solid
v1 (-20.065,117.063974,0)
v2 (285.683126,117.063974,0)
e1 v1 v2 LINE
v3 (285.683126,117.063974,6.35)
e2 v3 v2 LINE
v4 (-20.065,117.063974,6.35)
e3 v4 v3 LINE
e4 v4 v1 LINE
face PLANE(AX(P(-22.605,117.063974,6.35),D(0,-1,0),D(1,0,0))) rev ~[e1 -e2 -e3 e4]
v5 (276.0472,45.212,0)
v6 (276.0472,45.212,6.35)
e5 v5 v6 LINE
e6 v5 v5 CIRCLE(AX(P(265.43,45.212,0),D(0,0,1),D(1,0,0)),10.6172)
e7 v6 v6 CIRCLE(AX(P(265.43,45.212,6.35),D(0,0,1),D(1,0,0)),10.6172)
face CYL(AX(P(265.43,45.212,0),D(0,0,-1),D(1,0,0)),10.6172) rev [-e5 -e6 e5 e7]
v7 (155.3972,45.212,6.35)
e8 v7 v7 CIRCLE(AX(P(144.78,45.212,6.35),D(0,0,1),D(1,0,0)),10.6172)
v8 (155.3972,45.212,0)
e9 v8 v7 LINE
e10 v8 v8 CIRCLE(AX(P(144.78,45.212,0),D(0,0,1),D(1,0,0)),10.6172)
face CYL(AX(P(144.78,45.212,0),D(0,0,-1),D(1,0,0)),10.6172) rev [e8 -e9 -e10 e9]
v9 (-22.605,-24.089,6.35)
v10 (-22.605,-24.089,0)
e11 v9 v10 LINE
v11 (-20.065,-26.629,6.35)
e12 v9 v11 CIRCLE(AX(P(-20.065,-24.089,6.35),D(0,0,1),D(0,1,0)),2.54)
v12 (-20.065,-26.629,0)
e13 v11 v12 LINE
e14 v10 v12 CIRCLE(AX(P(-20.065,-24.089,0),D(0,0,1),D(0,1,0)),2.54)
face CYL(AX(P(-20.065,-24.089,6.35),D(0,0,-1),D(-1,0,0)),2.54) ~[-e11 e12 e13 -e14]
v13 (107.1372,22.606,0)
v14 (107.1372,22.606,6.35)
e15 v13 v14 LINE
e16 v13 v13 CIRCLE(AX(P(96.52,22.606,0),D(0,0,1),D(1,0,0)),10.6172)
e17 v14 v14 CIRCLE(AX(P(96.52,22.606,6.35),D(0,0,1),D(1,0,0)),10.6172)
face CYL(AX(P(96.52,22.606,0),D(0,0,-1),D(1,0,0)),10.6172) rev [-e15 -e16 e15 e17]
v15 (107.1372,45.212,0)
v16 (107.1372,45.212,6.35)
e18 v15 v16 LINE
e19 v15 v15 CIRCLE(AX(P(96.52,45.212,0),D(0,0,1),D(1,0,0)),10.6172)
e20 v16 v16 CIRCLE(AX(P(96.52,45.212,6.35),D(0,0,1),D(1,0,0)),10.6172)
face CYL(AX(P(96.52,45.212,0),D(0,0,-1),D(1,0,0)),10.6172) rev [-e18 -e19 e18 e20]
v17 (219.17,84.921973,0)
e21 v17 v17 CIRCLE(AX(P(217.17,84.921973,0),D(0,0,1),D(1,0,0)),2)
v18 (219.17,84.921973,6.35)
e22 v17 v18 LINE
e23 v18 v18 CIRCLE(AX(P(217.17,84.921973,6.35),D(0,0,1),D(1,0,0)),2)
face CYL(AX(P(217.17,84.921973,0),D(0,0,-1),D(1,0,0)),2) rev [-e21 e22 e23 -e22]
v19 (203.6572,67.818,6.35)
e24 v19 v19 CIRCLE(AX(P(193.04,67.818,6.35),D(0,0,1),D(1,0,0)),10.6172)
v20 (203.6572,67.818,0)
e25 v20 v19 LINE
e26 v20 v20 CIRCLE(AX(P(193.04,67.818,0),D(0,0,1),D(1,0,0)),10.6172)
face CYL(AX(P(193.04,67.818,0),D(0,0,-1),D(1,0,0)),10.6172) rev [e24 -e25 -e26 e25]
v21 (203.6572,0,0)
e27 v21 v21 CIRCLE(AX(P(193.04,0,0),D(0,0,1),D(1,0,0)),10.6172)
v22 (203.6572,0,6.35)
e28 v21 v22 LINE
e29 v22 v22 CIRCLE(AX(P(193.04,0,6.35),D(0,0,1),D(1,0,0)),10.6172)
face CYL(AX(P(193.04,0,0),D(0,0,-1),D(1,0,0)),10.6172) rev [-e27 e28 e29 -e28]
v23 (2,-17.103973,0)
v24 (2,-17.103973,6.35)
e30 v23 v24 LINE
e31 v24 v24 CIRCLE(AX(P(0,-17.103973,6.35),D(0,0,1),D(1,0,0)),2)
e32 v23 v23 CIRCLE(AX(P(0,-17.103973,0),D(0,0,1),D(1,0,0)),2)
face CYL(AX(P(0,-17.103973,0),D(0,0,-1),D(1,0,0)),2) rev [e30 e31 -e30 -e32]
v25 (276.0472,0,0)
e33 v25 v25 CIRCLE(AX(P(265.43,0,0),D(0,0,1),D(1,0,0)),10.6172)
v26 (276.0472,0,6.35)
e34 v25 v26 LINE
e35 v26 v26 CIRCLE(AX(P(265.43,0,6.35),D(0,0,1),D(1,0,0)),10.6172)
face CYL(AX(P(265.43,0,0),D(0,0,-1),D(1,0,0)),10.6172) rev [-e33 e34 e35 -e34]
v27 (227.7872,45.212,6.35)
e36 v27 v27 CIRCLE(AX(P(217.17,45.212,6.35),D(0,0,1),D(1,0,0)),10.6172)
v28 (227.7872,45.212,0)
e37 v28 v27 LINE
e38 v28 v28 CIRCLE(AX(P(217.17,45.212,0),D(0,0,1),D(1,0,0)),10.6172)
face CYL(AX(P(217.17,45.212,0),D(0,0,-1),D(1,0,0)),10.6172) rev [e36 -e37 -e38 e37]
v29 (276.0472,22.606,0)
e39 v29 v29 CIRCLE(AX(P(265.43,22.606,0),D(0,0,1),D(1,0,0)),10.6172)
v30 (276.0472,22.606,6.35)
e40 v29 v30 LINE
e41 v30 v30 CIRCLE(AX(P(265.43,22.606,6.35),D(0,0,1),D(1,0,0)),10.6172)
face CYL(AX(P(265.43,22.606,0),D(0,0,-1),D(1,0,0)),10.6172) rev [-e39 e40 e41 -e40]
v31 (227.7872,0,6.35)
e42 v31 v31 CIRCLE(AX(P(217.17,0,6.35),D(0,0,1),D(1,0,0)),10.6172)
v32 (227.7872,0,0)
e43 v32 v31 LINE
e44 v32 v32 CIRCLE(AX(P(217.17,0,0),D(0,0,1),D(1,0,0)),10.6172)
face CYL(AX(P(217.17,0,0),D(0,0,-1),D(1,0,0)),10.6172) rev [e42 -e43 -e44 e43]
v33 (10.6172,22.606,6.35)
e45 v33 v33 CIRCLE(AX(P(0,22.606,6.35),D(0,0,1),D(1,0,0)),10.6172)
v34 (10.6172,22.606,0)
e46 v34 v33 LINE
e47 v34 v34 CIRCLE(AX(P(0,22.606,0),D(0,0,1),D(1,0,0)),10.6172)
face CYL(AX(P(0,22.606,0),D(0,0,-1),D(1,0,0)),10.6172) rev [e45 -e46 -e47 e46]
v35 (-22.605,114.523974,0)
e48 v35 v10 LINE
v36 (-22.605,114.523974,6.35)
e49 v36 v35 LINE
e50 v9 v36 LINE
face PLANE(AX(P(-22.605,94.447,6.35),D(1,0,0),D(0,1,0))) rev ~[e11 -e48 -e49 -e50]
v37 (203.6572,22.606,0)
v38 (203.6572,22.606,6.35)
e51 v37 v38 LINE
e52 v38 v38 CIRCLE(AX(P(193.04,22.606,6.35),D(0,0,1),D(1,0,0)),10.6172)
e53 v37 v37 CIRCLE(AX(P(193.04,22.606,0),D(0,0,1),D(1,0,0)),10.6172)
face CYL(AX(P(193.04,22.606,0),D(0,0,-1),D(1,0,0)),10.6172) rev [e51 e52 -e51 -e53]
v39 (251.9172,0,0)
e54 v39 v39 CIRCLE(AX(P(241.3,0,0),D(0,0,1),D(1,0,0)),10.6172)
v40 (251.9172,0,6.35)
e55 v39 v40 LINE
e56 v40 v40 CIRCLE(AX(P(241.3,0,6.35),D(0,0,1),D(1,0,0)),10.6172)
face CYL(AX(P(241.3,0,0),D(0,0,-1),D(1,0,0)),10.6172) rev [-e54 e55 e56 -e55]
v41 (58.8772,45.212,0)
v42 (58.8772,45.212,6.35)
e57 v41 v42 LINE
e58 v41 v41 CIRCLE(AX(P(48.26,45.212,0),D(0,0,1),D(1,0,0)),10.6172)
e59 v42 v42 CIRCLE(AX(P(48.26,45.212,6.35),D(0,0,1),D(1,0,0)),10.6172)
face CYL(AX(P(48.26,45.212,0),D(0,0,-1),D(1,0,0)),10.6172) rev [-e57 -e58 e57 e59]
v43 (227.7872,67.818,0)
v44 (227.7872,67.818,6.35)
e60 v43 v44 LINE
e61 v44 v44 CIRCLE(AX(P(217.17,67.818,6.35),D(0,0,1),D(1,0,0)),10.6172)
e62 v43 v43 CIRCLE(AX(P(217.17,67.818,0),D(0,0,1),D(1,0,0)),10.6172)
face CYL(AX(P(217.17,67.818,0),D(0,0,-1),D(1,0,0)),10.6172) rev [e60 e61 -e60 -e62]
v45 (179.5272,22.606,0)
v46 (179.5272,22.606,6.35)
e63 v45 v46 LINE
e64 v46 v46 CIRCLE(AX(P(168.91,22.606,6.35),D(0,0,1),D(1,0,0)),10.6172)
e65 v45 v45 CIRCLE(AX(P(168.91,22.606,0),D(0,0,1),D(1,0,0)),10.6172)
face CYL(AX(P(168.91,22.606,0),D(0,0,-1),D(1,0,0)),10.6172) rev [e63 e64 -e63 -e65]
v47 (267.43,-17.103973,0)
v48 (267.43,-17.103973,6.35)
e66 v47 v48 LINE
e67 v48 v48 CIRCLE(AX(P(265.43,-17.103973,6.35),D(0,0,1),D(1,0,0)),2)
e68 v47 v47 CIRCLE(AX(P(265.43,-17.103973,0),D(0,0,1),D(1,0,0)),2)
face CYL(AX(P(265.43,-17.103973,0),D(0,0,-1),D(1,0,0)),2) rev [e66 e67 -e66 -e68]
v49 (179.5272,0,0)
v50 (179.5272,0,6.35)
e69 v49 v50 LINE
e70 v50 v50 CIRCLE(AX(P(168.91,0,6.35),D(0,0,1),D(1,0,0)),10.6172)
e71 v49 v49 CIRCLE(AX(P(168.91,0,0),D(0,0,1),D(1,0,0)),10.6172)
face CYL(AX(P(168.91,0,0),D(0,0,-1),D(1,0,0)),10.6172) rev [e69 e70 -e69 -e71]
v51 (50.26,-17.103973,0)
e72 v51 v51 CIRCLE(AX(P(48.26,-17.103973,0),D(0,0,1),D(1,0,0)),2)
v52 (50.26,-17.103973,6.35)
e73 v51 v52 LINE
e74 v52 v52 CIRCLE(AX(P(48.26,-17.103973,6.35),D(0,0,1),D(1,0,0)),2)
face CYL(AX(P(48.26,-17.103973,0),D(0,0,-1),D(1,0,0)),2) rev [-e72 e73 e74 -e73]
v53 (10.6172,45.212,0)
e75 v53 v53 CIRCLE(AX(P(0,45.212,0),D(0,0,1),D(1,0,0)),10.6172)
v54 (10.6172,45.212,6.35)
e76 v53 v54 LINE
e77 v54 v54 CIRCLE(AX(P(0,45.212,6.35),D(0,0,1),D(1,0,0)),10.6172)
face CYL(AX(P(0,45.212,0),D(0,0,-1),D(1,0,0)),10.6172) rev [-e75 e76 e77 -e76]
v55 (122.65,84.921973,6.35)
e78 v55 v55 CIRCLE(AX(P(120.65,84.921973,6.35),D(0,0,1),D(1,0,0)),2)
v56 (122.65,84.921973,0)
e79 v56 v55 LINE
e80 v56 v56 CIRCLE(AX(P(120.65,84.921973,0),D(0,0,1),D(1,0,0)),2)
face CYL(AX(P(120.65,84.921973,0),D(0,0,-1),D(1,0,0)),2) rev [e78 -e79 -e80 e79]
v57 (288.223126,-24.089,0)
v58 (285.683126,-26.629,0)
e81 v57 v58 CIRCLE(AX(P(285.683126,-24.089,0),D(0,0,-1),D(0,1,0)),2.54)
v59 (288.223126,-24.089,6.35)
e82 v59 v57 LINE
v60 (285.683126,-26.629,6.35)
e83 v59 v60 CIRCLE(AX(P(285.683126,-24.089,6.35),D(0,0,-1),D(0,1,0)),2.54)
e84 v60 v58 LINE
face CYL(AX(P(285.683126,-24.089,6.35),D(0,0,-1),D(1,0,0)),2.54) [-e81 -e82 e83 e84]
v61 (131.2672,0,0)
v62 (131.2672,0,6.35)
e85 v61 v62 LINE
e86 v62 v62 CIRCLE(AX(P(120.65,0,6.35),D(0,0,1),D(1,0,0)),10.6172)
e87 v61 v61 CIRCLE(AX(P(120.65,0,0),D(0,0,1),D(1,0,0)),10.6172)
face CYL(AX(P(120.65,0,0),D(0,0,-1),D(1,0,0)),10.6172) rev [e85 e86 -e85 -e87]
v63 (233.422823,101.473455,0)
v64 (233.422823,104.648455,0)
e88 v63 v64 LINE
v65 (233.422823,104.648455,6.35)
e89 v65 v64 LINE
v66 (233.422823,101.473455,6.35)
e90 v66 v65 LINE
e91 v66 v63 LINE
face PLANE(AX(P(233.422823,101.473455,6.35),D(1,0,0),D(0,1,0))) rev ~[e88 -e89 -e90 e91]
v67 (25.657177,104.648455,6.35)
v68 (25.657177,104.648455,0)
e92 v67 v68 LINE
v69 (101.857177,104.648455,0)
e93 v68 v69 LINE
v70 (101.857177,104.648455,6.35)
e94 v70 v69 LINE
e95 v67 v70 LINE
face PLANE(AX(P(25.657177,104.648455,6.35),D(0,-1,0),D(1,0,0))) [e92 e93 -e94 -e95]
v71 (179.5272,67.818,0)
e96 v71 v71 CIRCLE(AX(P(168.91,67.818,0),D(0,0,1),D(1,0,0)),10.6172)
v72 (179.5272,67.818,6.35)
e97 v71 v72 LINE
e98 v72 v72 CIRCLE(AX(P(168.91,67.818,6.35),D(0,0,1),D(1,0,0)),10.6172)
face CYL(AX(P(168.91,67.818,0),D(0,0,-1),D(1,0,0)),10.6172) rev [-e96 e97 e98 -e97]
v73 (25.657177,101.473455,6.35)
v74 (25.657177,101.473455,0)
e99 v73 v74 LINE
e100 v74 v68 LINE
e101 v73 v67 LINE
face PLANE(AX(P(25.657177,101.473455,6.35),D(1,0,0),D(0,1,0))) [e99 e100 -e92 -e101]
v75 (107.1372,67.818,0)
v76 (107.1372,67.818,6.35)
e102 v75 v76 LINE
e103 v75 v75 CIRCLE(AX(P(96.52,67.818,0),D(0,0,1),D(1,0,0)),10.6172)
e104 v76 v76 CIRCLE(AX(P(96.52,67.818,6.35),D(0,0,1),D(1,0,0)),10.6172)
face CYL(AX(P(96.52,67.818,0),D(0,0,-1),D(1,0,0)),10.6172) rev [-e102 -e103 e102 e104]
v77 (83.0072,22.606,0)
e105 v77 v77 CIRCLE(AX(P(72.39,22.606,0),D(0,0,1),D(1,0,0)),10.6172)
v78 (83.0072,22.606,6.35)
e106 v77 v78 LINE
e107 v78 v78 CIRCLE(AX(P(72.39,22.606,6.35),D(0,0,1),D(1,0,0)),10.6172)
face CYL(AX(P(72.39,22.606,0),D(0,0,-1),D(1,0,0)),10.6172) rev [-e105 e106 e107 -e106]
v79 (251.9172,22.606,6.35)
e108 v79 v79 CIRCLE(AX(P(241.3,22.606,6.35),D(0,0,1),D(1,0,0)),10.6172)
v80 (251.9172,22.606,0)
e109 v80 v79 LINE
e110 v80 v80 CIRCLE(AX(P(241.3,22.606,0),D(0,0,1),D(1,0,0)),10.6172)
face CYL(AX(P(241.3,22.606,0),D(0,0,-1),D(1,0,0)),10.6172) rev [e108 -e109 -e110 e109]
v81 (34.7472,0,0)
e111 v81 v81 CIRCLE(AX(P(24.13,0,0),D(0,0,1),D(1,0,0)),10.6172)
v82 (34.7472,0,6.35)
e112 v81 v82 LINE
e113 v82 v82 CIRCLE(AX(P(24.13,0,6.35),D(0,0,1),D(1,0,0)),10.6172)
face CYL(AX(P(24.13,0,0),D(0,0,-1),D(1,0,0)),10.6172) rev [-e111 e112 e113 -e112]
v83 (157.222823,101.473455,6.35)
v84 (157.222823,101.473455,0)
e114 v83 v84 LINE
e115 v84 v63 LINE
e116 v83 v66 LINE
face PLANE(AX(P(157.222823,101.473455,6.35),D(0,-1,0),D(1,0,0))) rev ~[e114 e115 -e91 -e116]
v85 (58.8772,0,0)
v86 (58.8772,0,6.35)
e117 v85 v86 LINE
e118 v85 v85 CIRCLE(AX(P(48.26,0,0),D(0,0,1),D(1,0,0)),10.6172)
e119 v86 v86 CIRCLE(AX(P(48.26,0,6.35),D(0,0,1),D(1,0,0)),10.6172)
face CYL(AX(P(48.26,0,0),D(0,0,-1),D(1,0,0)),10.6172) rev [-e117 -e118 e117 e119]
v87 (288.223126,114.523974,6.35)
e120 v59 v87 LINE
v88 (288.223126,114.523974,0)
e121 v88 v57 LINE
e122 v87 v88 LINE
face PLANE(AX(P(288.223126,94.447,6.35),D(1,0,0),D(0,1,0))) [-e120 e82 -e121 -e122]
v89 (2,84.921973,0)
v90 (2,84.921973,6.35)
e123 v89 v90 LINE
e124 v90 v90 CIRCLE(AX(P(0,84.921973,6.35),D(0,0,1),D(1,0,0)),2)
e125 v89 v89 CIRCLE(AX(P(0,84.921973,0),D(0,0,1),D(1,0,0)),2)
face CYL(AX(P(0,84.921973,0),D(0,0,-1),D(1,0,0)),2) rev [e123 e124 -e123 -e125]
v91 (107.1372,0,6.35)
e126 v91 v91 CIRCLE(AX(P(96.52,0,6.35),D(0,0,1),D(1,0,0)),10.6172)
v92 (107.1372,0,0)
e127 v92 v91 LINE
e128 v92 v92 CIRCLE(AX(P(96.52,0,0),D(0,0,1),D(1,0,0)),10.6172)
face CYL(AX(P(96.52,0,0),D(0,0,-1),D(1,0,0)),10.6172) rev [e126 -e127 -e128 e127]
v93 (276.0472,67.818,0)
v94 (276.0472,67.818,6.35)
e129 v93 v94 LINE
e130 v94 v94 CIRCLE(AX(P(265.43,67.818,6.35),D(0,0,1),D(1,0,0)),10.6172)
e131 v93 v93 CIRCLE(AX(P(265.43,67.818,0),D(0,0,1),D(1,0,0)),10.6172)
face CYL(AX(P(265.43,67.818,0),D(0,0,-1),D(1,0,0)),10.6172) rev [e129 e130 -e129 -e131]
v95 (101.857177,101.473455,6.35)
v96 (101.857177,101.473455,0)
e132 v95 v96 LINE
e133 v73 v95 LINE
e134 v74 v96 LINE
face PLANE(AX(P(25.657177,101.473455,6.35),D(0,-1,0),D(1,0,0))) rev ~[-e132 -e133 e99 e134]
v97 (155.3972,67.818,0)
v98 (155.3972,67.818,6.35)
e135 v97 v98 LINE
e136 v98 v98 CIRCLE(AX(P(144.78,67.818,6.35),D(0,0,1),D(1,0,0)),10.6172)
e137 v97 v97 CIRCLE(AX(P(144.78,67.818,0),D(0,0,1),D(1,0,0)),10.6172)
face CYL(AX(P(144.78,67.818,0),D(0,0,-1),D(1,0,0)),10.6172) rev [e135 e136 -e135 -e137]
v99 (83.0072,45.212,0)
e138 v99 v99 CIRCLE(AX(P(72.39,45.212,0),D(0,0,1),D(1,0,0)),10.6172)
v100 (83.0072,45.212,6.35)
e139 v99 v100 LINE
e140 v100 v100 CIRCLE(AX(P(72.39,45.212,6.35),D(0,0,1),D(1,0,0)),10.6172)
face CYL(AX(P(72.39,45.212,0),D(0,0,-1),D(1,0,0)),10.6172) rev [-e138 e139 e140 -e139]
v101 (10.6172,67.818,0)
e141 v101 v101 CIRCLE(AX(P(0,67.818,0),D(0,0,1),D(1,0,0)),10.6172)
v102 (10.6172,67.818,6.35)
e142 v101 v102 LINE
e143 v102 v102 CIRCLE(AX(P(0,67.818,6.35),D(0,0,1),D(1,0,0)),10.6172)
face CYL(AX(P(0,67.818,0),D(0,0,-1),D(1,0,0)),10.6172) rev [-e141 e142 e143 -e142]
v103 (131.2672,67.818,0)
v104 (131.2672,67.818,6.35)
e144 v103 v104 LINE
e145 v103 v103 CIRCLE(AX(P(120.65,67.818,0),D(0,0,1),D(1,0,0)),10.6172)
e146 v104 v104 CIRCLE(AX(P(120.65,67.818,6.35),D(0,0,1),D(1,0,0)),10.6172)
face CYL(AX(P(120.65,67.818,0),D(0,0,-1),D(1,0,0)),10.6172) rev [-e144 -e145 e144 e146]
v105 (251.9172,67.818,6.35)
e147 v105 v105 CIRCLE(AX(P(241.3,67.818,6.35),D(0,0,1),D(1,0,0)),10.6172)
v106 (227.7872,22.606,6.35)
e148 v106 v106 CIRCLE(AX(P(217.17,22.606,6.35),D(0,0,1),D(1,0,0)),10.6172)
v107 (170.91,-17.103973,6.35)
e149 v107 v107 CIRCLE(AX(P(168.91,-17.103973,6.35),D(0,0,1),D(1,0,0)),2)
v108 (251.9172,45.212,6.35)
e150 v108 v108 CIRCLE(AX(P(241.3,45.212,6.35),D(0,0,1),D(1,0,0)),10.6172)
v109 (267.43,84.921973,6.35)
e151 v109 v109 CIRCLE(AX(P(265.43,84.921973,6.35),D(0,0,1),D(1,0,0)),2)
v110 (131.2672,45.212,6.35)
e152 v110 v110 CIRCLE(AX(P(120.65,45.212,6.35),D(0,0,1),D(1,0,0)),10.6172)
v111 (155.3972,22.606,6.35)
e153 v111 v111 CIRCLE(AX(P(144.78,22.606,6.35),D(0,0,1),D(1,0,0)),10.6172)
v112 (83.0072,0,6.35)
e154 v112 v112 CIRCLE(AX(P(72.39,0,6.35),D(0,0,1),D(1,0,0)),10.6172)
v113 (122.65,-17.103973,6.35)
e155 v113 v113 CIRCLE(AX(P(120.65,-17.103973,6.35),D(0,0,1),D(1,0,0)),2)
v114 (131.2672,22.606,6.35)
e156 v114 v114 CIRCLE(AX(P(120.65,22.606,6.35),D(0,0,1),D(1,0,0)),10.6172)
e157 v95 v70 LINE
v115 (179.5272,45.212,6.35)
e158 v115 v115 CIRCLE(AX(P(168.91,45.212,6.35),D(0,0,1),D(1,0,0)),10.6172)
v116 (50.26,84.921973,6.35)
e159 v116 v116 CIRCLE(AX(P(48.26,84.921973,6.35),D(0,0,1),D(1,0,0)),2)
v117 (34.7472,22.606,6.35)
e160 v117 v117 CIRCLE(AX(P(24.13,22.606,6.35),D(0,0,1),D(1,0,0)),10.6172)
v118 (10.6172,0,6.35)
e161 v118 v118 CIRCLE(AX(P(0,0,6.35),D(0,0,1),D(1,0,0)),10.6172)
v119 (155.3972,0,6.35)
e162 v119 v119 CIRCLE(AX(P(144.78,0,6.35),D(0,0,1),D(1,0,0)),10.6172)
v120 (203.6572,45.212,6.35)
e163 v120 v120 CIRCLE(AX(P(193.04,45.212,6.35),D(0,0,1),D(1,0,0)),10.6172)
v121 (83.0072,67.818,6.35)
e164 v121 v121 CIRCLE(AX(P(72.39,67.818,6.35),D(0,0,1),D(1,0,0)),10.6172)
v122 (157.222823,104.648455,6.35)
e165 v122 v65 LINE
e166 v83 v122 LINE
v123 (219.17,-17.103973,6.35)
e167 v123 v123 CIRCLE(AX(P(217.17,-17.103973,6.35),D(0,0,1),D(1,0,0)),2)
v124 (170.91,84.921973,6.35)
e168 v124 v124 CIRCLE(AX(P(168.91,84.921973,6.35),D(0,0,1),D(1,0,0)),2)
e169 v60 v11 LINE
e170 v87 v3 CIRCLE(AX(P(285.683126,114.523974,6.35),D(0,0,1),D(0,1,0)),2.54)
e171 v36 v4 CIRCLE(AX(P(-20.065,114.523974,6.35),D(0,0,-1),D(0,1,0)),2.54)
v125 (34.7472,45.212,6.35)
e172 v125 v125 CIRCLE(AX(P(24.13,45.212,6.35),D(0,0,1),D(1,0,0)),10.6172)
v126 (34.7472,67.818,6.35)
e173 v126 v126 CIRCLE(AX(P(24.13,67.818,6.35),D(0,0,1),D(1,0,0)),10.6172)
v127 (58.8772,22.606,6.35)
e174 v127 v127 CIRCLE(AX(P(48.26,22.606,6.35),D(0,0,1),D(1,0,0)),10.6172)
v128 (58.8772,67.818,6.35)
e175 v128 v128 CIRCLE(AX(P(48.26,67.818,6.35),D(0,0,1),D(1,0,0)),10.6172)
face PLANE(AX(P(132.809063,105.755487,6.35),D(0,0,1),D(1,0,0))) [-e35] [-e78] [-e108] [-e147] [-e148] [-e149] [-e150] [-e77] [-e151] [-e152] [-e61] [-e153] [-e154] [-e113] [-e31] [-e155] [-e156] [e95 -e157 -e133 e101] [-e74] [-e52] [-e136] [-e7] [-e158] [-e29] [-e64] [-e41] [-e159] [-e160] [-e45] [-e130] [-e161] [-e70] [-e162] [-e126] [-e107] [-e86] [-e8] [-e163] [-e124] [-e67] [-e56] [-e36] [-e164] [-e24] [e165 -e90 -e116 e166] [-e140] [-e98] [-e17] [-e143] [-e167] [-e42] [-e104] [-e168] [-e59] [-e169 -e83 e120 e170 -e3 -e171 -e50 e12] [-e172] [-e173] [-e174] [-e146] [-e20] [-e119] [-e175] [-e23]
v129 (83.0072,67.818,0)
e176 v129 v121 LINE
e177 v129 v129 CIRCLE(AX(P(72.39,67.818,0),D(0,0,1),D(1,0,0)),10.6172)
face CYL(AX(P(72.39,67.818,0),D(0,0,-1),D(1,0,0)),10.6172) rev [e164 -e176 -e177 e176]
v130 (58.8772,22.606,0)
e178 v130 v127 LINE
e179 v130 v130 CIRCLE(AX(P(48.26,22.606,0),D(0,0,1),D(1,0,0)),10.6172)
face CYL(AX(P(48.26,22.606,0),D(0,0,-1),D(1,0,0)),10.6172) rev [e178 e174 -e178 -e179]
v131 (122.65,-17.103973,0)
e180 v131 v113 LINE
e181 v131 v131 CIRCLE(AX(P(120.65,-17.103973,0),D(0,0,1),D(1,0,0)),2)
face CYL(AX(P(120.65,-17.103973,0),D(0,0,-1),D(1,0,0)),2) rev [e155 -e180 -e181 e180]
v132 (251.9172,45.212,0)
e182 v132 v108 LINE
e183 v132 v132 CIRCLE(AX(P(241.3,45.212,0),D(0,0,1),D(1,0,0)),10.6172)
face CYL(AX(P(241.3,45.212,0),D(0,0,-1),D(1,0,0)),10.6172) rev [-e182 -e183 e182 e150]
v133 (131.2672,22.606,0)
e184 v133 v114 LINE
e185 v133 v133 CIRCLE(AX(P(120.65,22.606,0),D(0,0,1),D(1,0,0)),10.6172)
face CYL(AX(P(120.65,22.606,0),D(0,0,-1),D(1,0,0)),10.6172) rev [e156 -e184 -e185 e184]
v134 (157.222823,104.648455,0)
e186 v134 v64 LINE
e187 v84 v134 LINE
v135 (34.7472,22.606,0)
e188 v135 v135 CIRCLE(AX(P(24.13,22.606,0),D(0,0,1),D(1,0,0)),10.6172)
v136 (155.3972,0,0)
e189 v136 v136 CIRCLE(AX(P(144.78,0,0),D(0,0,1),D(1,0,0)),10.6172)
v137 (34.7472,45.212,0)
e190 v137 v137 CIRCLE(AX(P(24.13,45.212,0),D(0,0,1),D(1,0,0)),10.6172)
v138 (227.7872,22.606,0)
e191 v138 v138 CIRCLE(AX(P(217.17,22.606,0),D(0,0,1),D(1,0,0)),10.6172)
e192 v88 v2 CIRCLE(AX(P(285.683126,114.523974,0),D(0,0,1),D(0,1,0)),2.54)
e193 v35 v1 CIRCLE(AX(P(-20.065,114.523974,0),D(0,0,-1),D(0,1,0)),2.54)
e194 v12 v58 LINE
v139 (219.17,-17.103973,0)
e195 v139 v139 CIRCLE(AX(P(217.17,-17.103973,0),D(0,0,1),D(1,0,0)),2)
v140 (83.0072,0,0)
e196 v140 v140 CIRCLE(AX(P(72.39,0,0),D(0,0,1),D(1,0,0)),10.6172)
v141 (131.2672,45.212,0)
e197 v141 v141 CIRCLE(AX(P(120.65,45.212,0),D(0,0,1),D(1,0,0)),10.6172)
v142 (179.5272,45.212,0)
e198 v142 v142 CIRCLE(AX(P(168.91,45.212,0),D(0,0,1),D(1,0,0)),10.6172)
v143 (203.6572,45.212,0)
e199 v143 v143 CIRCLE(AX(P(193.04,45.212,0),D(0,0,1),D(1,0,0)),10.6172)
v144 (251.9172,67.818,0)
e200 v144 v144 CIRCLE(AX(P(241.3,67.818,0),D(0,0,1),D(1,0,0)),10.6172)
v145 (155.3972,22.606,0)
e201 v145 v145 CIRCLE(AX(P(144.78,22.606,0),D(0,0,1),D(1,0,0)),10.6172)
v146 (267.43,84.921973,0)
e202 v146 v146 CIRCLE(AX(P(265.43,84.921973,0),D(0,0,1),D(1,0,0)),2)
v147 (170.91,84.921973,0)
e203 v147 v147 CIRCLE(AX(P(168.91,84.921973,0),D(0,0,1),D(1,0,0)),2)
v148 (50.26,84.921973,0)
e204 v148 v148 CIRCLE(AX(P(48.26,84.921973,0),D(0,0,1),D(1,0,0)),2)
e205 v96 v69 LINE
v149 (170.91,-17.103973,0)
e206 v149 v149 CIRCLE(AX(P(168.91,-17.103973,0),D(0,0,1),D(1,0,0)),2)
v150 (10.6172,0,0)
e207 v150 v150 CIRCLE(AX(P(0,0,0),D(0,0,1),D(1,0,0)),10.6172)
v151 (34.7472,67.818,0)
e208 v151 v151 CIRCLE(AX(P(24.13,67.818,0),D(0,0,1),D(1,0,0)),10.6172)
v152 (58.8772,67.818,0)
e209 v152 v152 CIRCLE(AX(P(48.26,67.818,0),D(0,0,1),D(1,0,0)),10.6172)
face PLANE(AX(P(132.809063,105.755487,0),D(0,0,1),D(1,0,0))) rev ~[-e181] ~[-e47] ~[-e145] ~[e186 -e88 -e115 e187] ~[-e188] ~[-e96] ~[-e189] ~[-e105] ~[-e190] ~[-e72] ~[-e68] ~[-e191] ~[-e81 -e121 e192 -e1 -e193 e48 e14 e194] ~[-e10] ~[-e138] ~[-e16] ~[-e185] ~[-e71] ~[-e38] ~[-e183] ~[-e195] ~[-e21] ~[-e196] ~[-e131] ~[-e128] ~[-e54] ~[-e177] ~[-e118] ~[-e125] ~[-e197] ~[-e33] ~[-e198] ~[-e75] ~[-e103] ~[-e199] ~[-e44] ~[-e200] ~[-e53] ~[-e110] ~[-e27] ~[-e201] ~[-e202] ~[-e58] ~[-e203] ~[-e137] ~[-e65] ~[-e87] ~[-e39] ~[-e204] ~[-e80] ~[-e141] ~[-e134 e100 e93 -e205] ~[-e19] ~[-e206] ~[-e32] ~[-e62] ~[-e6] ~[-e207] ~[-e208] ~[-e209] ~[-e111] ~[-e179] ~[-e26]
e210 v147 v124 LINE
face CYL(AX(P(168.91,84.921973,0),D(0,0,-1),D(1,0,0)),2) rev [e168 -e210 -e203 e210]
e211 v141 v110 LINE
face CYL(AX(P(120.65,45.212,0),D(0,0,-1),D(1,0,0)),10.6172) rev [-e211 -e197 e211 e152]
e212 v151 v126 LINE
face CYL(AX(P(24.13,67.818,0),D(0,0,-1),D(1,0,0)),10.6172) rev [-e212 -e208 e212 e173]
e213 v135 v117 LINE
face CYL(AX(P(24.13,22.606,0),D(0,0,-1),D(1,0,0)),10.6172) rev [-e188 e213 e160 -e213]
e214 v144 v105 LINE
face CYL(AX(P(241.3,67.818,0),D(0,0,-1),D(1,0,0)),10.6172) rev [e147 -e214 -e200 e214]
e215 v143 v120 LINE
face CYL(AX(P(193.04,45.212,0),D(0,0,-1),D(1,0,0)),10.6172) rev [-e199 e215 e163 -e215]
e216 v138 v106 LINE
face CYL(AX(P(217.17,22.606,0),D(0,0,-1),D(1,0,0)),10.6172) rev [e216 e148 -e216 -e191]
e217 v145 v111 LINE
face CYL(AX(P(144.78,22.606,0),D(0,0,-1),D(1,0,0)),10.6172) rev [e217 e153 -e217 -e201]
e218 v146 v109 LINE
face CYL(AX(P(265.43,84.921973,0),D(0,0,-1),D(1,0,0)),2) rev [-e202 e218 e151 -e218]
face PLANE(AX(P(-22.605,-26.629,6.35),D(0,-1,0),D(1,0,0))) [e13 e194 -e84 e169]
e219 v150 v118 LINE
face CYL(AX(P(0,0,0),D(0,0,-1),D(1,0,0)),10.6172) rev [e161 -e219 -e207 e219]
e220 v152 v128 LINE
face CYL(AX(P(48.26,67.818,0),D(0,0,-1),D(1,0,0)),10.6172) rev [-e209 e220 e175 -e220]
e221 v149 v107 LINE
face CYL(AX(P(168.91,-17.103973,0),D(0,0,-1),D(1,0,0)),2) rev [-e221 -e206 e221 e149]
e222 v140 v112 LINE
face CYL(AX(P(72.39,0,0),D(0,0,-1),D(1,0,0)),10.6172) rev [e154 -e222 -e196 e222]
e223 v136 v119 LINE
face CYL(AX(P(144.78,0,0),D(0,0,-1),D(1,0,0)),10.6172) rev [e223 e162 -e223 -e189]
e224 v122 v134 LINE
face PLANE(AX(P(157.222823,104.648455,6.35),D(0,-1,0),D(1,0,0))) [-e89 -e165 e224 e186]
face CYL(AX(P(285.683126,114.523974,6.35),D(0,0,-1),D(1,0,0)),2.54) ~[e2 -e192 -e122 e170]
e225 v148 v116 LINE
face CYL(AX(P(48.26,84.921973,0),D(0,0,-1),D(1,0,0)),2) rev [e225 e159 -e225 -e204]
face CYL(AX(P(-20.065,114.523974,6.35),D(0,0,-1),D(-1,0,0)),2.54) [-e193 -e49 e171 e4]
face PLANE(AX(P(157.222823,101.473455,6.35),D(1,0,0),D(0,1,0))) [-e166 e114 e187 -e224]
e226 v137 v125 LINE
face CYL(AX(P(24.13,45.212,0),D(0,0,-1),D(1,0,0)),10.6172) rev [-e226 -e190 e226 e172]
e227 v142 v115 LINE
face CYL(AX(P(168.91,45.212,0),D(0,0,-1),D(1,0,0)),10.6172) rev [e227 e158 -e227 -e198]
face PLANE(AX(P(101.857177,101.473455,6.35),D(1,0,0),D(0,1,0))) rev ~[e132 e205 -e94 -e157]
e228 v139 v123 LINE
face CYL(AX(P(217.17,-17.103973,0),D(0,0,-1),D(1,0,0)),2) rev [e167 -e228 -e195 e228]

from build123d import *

# Parameters (mm, degrees)
SKETCH2_R               = 10.6172
SKETCH2_R_2             = 2
BOSS_EXTRUDE1_DEPTH     = 6.35
SKETCH5_W               = 3.175
SKETCH5_H               = 121.076
BOSS_EXTRUDE2_DEPTH     = 6.35
SKETCH8_W               = 310.828126018
SKETCH8_H               = 22.616973562
BOSS_EXTRUDE4_DEPTH     = 6.35
FILLET2_R               = 2.54
SKETCH11_W              = 76.2
SKETCH11_H              = 3.175
CUT_EXTRUDE3_DEPTH      = 1
CUT_EXTRUDE3_DEPTH_BACK = 7.35


with BuildPart() as part:
    # Sketch2 → Boss-Extrude1 (new body)
    with BuildSketch(Plane.XY):
        Polygon((-19.430000002, 91.526), (-19.430000002, -23.708), (-19.430000002, -26.629), (285.048126016, -26.629), (285.048126016, -23.708), (285.048126016, 91.526), (285.048126016, 94.447), (-19.430000002, 94.447), align=None)
        Circle(SKETCH2_R, mode=Mode.SUBTRACT)
        with Locations((24.13, 0)):
            Circle(SKETCH2_R, mode=Mode.SUBTRACT)
        with Locations((48.26, 0)):
            Circle(SKETCH2_R, mode=Mode.SUBTRACT)
        with Locations((72.39, 0)):
            Circle(SKETCH2_R, mode=Mode.SUBTRACT)
        with Locations((24.13, 22.606)):
            Circle(SKETCH2_R, mode=Mode.SUBTRACT)
        with Locations((48.26, 22.606)):
            Circle(SKETCH2_R, mode=Mode.SUBTRACT)
        with Locations((72.39, 22.606)):
            Circle(SKETCH2_R, mode=Mode.SUBTRACT)
        with Locations((24.13, 45.212)):
            Circle(SKETCH2_R, mode=Mode.SUBTRACT)
        with Locations((48.26, 45.212)):
            Circle(SKETCH2_R, mode=Mode.SUBTRACT)
        with Locations((72.39, 45.212)):
            Circle(SKETCH2_R, mode=Mode.SUBTRACT)
        with Locations((24.13, 67.818)):
            Circle(SKETCH2_R, mode=Mode.SUBTRACT)
        with Locations((48.26, 67.818)):
            Circle(SKETCH2_R, mode=Mode.SUBTRACT)
        with Locations((72.39, 67.818)):
            Circle(SKETCH2_R, mode=Mode.SUBTRACT)
        with Locations((0, 22.606)):
            Circle(SKETCH2_R, mode=Mode.SUBTRACT)
        with Locations((0, 45.212)):
            Circle(SKETCH2_R, mode=Mode.SUBTRACT)
        with Locations((0, 67.818)):
            Circle(SKETCH2_R, mode=Mode.SUBTRACT)
        with Locations((96.52, 0)):
            Circle(SKETCH2_R, mode=Mode.SUBTRACT)
        with Locations((120.65, 0)):
            Circle(SKETCH2_R, mode=Mode.SUBTRACT)
        with Locations((144.78, 0)):
            Circle(SKETCH2_R, mode=Mode.SUBTRACT)
        with Locations((168.91, 0)):
            Circle(SKETCH2_R, mode=Mode.SUBTRACT)
        with Locations((193.04, 0)):
            Circle(SKETCH2_R, mode=Mode.SUBTRACT)
        with Locations((217.17, 0)):
            Circle(SKETCH2_R, mode=Mode.SUBTRACT)
        with Locations((241.3, 0)):
            Circle(SKETCH2_R, mode=Mode.SUBTRACT)
        with Locations((265.43, 0)):
            Circle(SKETCH2_R, mode=Mode.SUBTRACT)
        with Locations((96.52, 22.606)):
            Circle(SKETCH2_R, mode=Mode.SUBTRACT)
        with Locations((120.65, 22.606)):
            Circle(SKETCH2_R, mode=Mode.SUBTRACT)
        with Locations((144.78, 22.606)):
            Circle(SKETCH2_R, mode=Mode.SUBTRACT)
        with Locations((168.91, 22.606)):
            Circle(SKETCH2_R, mode=Mode.SUBTRACT)
        with Locations((193.04, 22.606)):
            Circle(SKETCH2_R, mode=Mode.SUBTRACT)
        with Locations((217.17, 22.606)):
            Circle(SKETCH2_R, mode=Mode.SUBTRACT)
        with Locations((241.3, 22.606)):
            Circle(SKETCH2_R, mode=Mode.SUBTRACT)
        with Locations((265.43, 22.606)):
            Circle(SKETCH2_R, mode=Mode.SUBTRACT)
        with Locations((96.52, 45.212)):
            Circle(SKETCH2_R, mode=Mode.SUBTRACT)
        with Locations((120.65, 45.212)):
            Circle(SKETCH2_R, mode=Mode.SUBTRACT)
        with Locations((144.78, 45.212)):
            Circle(SKETCH2_R, mode=Mode.SUBTRACT)
        with Locations((168.91, 45.212)):
            Circle(SKETCH2_R, mode=Mode.SUBTRACT)
        with Locations((193.04, 45.212)):
            Circle(SKETCH2_R, mode=Mode.SUBTRACT)
        with Locations((217.17, 45.212)):
            Circle(SKETCH2_R, mode=Mode.SUBTRACT)
        with Locations((241.3, 45.212)):
            Circle(SKETCH2_R, mode=Mode.SUBTRACT)
        with Locations((265.43, 45.212)):
            Circle(SKETCH2_R, mode=Mode.SUBTRACT)
        with Locations((96.52, 67.818)):
            Circle(SKETCH2_R, mode=Mode.SUBTRACT)
        with Locations((120.65, 67.818)):
            Circle(SKETCH2_R, mode=Mode.SUBTRACT)
        with Locations((144.78, 67.818)):
            Circle(SKETCH2_R, mode=Mode.SUBTRACT)
        with Locations((168.91, 67.818)):
            Circle(SKETCH2_R, mode=Mode.SUBTRACT)
        with Locations((193.04, 67.818)):
            Circle(SKETCH2_R, mode=Mode.SUBTRACT)
        with Locations((217.17, 67.818)):
            Circle(SKETCH2_R, mode=Mode.SUBTRACT)
        with Locations((241.3, 67.818)):
            Circle(SKETCH2_R, mode=Mode.SUBTRACT)
        with Locations((265.43, 67.818)):
            Circle(SKETCH2_R, mode=Mode.SUBTRACT)
        with Locations((0, 84.921973416)):
            Circle(SKETCH2_R_2, mode=Mode.SUBTRACT)
        with Locations((48.26, 84.921973416)):
            Circle(SKETCH2_R_2, mode=Mode.SUBTRACT)
        with Locations((217.17, 84.921973416)):
            Circle(SKETCH2_R_2, mode=Mode.SUBTRACT)
        with Locations((265.43, 84.921973416)):
            Circle(SKETCH2_R_2, mode=Mode.SUBTRACT)
        with Locations((120.65, 84.921973416)):
            Circle(SKETCH2_R_2, mode=Mode.SUBTRACT)
        with Locations((168.91, 84.921973416)):
            Circle(SKETCH2_R_2, mode=Mode.SUBTRACT)
        with Locations((265.43, -17.103973416)):
            Circle(SKETCH2_R_2, mode=Mode.SUBTRACT)
        with Locations((217.17, -17.103973416)):
            Circle(SKETCH2_R_2, mode=Mode.SUBTRACT)
        with Locations((48.26, -17.103973416)):
            Circle(SKETCH2_R_2, mode=Mode.SUBTRACT)
        with Locations((0, -17.103973416)):
            Circle(SKETCH2_R_2, mode=Mode.SUBTRACT)
        with Locations((168.91, -17.103973416)):
            Circle(SKETCH2_R_2, mode=Mode.SUBTRACT)
        with Locations((120.65, -17.103973416)):
            Circle(SKETCH2_R_2, mode=Mode.SUBTRACT)
    extrude(amount=BOSS_EXTRUDE1_DEPTH)

    # Sketch5 → Boss-Extrude2 (add, through all)
    with BuildSketch(Plane.XY.offset(6.35)):
        with Locations((-21.017500002, 33.909)):
            Rectangle(SKETCH5_W, SKETCH5_H)
        with Locations((286.635626016, 33.909)):
            Rectangle(SKETCH5_W, SKETCH5_H)
    extrude(amount=-BOSS_EXTRUDE2_DEPTH)

    # Sketch8 → Boss-Extrude4 (add, through all)
    with BuildSketch(Plane.XY.offset(6.35)):
        with Locations((132.809063007, 105.755486781)):
            Rectangle(SKETCH8_W, SKETCH8_H)
    extrude(amount=-BOSS_EXTRUDE4_DEPTH)

    # Fillet2
    fillet2_edges = [part.edges().sort_by_distance(p)[0] for p in [
        (-22.605000002, -26.629, 3.175),
        (288.223126016, -26.629, 3.175),
        (-22.605000002, 117.063973562, 3.175),
        (288.223126016, 117.063973562, 3.175),
    ]]
    fillet(fillet2_edges, radius=FILLET2_R)

    # Sketch11 → Cut-Extrude3 (cut, two sides)
    with BuildSketch(Plane.XY.offset(6.35)) as cut_extrude3_sk:
        with Locations((195.322823422, 103.060954702)):
            Rectangle(SKETCH11_W, SKETCH11_H)
        with Locations((63.757176578, 103.060954702)):
            Rectangle(SKETCH11_W, SKETCH11_H)
    extrude(amount=CUT_EXTRUDE3_DEPTH, mode=Mode.SUBTRACT)
    extrude(cut_extrude3_sk.sketch, amount=-CUT_EXTRUDE3_DEPTH_BACK, mode=Mode.SUBTRACT)


solid = part.part
